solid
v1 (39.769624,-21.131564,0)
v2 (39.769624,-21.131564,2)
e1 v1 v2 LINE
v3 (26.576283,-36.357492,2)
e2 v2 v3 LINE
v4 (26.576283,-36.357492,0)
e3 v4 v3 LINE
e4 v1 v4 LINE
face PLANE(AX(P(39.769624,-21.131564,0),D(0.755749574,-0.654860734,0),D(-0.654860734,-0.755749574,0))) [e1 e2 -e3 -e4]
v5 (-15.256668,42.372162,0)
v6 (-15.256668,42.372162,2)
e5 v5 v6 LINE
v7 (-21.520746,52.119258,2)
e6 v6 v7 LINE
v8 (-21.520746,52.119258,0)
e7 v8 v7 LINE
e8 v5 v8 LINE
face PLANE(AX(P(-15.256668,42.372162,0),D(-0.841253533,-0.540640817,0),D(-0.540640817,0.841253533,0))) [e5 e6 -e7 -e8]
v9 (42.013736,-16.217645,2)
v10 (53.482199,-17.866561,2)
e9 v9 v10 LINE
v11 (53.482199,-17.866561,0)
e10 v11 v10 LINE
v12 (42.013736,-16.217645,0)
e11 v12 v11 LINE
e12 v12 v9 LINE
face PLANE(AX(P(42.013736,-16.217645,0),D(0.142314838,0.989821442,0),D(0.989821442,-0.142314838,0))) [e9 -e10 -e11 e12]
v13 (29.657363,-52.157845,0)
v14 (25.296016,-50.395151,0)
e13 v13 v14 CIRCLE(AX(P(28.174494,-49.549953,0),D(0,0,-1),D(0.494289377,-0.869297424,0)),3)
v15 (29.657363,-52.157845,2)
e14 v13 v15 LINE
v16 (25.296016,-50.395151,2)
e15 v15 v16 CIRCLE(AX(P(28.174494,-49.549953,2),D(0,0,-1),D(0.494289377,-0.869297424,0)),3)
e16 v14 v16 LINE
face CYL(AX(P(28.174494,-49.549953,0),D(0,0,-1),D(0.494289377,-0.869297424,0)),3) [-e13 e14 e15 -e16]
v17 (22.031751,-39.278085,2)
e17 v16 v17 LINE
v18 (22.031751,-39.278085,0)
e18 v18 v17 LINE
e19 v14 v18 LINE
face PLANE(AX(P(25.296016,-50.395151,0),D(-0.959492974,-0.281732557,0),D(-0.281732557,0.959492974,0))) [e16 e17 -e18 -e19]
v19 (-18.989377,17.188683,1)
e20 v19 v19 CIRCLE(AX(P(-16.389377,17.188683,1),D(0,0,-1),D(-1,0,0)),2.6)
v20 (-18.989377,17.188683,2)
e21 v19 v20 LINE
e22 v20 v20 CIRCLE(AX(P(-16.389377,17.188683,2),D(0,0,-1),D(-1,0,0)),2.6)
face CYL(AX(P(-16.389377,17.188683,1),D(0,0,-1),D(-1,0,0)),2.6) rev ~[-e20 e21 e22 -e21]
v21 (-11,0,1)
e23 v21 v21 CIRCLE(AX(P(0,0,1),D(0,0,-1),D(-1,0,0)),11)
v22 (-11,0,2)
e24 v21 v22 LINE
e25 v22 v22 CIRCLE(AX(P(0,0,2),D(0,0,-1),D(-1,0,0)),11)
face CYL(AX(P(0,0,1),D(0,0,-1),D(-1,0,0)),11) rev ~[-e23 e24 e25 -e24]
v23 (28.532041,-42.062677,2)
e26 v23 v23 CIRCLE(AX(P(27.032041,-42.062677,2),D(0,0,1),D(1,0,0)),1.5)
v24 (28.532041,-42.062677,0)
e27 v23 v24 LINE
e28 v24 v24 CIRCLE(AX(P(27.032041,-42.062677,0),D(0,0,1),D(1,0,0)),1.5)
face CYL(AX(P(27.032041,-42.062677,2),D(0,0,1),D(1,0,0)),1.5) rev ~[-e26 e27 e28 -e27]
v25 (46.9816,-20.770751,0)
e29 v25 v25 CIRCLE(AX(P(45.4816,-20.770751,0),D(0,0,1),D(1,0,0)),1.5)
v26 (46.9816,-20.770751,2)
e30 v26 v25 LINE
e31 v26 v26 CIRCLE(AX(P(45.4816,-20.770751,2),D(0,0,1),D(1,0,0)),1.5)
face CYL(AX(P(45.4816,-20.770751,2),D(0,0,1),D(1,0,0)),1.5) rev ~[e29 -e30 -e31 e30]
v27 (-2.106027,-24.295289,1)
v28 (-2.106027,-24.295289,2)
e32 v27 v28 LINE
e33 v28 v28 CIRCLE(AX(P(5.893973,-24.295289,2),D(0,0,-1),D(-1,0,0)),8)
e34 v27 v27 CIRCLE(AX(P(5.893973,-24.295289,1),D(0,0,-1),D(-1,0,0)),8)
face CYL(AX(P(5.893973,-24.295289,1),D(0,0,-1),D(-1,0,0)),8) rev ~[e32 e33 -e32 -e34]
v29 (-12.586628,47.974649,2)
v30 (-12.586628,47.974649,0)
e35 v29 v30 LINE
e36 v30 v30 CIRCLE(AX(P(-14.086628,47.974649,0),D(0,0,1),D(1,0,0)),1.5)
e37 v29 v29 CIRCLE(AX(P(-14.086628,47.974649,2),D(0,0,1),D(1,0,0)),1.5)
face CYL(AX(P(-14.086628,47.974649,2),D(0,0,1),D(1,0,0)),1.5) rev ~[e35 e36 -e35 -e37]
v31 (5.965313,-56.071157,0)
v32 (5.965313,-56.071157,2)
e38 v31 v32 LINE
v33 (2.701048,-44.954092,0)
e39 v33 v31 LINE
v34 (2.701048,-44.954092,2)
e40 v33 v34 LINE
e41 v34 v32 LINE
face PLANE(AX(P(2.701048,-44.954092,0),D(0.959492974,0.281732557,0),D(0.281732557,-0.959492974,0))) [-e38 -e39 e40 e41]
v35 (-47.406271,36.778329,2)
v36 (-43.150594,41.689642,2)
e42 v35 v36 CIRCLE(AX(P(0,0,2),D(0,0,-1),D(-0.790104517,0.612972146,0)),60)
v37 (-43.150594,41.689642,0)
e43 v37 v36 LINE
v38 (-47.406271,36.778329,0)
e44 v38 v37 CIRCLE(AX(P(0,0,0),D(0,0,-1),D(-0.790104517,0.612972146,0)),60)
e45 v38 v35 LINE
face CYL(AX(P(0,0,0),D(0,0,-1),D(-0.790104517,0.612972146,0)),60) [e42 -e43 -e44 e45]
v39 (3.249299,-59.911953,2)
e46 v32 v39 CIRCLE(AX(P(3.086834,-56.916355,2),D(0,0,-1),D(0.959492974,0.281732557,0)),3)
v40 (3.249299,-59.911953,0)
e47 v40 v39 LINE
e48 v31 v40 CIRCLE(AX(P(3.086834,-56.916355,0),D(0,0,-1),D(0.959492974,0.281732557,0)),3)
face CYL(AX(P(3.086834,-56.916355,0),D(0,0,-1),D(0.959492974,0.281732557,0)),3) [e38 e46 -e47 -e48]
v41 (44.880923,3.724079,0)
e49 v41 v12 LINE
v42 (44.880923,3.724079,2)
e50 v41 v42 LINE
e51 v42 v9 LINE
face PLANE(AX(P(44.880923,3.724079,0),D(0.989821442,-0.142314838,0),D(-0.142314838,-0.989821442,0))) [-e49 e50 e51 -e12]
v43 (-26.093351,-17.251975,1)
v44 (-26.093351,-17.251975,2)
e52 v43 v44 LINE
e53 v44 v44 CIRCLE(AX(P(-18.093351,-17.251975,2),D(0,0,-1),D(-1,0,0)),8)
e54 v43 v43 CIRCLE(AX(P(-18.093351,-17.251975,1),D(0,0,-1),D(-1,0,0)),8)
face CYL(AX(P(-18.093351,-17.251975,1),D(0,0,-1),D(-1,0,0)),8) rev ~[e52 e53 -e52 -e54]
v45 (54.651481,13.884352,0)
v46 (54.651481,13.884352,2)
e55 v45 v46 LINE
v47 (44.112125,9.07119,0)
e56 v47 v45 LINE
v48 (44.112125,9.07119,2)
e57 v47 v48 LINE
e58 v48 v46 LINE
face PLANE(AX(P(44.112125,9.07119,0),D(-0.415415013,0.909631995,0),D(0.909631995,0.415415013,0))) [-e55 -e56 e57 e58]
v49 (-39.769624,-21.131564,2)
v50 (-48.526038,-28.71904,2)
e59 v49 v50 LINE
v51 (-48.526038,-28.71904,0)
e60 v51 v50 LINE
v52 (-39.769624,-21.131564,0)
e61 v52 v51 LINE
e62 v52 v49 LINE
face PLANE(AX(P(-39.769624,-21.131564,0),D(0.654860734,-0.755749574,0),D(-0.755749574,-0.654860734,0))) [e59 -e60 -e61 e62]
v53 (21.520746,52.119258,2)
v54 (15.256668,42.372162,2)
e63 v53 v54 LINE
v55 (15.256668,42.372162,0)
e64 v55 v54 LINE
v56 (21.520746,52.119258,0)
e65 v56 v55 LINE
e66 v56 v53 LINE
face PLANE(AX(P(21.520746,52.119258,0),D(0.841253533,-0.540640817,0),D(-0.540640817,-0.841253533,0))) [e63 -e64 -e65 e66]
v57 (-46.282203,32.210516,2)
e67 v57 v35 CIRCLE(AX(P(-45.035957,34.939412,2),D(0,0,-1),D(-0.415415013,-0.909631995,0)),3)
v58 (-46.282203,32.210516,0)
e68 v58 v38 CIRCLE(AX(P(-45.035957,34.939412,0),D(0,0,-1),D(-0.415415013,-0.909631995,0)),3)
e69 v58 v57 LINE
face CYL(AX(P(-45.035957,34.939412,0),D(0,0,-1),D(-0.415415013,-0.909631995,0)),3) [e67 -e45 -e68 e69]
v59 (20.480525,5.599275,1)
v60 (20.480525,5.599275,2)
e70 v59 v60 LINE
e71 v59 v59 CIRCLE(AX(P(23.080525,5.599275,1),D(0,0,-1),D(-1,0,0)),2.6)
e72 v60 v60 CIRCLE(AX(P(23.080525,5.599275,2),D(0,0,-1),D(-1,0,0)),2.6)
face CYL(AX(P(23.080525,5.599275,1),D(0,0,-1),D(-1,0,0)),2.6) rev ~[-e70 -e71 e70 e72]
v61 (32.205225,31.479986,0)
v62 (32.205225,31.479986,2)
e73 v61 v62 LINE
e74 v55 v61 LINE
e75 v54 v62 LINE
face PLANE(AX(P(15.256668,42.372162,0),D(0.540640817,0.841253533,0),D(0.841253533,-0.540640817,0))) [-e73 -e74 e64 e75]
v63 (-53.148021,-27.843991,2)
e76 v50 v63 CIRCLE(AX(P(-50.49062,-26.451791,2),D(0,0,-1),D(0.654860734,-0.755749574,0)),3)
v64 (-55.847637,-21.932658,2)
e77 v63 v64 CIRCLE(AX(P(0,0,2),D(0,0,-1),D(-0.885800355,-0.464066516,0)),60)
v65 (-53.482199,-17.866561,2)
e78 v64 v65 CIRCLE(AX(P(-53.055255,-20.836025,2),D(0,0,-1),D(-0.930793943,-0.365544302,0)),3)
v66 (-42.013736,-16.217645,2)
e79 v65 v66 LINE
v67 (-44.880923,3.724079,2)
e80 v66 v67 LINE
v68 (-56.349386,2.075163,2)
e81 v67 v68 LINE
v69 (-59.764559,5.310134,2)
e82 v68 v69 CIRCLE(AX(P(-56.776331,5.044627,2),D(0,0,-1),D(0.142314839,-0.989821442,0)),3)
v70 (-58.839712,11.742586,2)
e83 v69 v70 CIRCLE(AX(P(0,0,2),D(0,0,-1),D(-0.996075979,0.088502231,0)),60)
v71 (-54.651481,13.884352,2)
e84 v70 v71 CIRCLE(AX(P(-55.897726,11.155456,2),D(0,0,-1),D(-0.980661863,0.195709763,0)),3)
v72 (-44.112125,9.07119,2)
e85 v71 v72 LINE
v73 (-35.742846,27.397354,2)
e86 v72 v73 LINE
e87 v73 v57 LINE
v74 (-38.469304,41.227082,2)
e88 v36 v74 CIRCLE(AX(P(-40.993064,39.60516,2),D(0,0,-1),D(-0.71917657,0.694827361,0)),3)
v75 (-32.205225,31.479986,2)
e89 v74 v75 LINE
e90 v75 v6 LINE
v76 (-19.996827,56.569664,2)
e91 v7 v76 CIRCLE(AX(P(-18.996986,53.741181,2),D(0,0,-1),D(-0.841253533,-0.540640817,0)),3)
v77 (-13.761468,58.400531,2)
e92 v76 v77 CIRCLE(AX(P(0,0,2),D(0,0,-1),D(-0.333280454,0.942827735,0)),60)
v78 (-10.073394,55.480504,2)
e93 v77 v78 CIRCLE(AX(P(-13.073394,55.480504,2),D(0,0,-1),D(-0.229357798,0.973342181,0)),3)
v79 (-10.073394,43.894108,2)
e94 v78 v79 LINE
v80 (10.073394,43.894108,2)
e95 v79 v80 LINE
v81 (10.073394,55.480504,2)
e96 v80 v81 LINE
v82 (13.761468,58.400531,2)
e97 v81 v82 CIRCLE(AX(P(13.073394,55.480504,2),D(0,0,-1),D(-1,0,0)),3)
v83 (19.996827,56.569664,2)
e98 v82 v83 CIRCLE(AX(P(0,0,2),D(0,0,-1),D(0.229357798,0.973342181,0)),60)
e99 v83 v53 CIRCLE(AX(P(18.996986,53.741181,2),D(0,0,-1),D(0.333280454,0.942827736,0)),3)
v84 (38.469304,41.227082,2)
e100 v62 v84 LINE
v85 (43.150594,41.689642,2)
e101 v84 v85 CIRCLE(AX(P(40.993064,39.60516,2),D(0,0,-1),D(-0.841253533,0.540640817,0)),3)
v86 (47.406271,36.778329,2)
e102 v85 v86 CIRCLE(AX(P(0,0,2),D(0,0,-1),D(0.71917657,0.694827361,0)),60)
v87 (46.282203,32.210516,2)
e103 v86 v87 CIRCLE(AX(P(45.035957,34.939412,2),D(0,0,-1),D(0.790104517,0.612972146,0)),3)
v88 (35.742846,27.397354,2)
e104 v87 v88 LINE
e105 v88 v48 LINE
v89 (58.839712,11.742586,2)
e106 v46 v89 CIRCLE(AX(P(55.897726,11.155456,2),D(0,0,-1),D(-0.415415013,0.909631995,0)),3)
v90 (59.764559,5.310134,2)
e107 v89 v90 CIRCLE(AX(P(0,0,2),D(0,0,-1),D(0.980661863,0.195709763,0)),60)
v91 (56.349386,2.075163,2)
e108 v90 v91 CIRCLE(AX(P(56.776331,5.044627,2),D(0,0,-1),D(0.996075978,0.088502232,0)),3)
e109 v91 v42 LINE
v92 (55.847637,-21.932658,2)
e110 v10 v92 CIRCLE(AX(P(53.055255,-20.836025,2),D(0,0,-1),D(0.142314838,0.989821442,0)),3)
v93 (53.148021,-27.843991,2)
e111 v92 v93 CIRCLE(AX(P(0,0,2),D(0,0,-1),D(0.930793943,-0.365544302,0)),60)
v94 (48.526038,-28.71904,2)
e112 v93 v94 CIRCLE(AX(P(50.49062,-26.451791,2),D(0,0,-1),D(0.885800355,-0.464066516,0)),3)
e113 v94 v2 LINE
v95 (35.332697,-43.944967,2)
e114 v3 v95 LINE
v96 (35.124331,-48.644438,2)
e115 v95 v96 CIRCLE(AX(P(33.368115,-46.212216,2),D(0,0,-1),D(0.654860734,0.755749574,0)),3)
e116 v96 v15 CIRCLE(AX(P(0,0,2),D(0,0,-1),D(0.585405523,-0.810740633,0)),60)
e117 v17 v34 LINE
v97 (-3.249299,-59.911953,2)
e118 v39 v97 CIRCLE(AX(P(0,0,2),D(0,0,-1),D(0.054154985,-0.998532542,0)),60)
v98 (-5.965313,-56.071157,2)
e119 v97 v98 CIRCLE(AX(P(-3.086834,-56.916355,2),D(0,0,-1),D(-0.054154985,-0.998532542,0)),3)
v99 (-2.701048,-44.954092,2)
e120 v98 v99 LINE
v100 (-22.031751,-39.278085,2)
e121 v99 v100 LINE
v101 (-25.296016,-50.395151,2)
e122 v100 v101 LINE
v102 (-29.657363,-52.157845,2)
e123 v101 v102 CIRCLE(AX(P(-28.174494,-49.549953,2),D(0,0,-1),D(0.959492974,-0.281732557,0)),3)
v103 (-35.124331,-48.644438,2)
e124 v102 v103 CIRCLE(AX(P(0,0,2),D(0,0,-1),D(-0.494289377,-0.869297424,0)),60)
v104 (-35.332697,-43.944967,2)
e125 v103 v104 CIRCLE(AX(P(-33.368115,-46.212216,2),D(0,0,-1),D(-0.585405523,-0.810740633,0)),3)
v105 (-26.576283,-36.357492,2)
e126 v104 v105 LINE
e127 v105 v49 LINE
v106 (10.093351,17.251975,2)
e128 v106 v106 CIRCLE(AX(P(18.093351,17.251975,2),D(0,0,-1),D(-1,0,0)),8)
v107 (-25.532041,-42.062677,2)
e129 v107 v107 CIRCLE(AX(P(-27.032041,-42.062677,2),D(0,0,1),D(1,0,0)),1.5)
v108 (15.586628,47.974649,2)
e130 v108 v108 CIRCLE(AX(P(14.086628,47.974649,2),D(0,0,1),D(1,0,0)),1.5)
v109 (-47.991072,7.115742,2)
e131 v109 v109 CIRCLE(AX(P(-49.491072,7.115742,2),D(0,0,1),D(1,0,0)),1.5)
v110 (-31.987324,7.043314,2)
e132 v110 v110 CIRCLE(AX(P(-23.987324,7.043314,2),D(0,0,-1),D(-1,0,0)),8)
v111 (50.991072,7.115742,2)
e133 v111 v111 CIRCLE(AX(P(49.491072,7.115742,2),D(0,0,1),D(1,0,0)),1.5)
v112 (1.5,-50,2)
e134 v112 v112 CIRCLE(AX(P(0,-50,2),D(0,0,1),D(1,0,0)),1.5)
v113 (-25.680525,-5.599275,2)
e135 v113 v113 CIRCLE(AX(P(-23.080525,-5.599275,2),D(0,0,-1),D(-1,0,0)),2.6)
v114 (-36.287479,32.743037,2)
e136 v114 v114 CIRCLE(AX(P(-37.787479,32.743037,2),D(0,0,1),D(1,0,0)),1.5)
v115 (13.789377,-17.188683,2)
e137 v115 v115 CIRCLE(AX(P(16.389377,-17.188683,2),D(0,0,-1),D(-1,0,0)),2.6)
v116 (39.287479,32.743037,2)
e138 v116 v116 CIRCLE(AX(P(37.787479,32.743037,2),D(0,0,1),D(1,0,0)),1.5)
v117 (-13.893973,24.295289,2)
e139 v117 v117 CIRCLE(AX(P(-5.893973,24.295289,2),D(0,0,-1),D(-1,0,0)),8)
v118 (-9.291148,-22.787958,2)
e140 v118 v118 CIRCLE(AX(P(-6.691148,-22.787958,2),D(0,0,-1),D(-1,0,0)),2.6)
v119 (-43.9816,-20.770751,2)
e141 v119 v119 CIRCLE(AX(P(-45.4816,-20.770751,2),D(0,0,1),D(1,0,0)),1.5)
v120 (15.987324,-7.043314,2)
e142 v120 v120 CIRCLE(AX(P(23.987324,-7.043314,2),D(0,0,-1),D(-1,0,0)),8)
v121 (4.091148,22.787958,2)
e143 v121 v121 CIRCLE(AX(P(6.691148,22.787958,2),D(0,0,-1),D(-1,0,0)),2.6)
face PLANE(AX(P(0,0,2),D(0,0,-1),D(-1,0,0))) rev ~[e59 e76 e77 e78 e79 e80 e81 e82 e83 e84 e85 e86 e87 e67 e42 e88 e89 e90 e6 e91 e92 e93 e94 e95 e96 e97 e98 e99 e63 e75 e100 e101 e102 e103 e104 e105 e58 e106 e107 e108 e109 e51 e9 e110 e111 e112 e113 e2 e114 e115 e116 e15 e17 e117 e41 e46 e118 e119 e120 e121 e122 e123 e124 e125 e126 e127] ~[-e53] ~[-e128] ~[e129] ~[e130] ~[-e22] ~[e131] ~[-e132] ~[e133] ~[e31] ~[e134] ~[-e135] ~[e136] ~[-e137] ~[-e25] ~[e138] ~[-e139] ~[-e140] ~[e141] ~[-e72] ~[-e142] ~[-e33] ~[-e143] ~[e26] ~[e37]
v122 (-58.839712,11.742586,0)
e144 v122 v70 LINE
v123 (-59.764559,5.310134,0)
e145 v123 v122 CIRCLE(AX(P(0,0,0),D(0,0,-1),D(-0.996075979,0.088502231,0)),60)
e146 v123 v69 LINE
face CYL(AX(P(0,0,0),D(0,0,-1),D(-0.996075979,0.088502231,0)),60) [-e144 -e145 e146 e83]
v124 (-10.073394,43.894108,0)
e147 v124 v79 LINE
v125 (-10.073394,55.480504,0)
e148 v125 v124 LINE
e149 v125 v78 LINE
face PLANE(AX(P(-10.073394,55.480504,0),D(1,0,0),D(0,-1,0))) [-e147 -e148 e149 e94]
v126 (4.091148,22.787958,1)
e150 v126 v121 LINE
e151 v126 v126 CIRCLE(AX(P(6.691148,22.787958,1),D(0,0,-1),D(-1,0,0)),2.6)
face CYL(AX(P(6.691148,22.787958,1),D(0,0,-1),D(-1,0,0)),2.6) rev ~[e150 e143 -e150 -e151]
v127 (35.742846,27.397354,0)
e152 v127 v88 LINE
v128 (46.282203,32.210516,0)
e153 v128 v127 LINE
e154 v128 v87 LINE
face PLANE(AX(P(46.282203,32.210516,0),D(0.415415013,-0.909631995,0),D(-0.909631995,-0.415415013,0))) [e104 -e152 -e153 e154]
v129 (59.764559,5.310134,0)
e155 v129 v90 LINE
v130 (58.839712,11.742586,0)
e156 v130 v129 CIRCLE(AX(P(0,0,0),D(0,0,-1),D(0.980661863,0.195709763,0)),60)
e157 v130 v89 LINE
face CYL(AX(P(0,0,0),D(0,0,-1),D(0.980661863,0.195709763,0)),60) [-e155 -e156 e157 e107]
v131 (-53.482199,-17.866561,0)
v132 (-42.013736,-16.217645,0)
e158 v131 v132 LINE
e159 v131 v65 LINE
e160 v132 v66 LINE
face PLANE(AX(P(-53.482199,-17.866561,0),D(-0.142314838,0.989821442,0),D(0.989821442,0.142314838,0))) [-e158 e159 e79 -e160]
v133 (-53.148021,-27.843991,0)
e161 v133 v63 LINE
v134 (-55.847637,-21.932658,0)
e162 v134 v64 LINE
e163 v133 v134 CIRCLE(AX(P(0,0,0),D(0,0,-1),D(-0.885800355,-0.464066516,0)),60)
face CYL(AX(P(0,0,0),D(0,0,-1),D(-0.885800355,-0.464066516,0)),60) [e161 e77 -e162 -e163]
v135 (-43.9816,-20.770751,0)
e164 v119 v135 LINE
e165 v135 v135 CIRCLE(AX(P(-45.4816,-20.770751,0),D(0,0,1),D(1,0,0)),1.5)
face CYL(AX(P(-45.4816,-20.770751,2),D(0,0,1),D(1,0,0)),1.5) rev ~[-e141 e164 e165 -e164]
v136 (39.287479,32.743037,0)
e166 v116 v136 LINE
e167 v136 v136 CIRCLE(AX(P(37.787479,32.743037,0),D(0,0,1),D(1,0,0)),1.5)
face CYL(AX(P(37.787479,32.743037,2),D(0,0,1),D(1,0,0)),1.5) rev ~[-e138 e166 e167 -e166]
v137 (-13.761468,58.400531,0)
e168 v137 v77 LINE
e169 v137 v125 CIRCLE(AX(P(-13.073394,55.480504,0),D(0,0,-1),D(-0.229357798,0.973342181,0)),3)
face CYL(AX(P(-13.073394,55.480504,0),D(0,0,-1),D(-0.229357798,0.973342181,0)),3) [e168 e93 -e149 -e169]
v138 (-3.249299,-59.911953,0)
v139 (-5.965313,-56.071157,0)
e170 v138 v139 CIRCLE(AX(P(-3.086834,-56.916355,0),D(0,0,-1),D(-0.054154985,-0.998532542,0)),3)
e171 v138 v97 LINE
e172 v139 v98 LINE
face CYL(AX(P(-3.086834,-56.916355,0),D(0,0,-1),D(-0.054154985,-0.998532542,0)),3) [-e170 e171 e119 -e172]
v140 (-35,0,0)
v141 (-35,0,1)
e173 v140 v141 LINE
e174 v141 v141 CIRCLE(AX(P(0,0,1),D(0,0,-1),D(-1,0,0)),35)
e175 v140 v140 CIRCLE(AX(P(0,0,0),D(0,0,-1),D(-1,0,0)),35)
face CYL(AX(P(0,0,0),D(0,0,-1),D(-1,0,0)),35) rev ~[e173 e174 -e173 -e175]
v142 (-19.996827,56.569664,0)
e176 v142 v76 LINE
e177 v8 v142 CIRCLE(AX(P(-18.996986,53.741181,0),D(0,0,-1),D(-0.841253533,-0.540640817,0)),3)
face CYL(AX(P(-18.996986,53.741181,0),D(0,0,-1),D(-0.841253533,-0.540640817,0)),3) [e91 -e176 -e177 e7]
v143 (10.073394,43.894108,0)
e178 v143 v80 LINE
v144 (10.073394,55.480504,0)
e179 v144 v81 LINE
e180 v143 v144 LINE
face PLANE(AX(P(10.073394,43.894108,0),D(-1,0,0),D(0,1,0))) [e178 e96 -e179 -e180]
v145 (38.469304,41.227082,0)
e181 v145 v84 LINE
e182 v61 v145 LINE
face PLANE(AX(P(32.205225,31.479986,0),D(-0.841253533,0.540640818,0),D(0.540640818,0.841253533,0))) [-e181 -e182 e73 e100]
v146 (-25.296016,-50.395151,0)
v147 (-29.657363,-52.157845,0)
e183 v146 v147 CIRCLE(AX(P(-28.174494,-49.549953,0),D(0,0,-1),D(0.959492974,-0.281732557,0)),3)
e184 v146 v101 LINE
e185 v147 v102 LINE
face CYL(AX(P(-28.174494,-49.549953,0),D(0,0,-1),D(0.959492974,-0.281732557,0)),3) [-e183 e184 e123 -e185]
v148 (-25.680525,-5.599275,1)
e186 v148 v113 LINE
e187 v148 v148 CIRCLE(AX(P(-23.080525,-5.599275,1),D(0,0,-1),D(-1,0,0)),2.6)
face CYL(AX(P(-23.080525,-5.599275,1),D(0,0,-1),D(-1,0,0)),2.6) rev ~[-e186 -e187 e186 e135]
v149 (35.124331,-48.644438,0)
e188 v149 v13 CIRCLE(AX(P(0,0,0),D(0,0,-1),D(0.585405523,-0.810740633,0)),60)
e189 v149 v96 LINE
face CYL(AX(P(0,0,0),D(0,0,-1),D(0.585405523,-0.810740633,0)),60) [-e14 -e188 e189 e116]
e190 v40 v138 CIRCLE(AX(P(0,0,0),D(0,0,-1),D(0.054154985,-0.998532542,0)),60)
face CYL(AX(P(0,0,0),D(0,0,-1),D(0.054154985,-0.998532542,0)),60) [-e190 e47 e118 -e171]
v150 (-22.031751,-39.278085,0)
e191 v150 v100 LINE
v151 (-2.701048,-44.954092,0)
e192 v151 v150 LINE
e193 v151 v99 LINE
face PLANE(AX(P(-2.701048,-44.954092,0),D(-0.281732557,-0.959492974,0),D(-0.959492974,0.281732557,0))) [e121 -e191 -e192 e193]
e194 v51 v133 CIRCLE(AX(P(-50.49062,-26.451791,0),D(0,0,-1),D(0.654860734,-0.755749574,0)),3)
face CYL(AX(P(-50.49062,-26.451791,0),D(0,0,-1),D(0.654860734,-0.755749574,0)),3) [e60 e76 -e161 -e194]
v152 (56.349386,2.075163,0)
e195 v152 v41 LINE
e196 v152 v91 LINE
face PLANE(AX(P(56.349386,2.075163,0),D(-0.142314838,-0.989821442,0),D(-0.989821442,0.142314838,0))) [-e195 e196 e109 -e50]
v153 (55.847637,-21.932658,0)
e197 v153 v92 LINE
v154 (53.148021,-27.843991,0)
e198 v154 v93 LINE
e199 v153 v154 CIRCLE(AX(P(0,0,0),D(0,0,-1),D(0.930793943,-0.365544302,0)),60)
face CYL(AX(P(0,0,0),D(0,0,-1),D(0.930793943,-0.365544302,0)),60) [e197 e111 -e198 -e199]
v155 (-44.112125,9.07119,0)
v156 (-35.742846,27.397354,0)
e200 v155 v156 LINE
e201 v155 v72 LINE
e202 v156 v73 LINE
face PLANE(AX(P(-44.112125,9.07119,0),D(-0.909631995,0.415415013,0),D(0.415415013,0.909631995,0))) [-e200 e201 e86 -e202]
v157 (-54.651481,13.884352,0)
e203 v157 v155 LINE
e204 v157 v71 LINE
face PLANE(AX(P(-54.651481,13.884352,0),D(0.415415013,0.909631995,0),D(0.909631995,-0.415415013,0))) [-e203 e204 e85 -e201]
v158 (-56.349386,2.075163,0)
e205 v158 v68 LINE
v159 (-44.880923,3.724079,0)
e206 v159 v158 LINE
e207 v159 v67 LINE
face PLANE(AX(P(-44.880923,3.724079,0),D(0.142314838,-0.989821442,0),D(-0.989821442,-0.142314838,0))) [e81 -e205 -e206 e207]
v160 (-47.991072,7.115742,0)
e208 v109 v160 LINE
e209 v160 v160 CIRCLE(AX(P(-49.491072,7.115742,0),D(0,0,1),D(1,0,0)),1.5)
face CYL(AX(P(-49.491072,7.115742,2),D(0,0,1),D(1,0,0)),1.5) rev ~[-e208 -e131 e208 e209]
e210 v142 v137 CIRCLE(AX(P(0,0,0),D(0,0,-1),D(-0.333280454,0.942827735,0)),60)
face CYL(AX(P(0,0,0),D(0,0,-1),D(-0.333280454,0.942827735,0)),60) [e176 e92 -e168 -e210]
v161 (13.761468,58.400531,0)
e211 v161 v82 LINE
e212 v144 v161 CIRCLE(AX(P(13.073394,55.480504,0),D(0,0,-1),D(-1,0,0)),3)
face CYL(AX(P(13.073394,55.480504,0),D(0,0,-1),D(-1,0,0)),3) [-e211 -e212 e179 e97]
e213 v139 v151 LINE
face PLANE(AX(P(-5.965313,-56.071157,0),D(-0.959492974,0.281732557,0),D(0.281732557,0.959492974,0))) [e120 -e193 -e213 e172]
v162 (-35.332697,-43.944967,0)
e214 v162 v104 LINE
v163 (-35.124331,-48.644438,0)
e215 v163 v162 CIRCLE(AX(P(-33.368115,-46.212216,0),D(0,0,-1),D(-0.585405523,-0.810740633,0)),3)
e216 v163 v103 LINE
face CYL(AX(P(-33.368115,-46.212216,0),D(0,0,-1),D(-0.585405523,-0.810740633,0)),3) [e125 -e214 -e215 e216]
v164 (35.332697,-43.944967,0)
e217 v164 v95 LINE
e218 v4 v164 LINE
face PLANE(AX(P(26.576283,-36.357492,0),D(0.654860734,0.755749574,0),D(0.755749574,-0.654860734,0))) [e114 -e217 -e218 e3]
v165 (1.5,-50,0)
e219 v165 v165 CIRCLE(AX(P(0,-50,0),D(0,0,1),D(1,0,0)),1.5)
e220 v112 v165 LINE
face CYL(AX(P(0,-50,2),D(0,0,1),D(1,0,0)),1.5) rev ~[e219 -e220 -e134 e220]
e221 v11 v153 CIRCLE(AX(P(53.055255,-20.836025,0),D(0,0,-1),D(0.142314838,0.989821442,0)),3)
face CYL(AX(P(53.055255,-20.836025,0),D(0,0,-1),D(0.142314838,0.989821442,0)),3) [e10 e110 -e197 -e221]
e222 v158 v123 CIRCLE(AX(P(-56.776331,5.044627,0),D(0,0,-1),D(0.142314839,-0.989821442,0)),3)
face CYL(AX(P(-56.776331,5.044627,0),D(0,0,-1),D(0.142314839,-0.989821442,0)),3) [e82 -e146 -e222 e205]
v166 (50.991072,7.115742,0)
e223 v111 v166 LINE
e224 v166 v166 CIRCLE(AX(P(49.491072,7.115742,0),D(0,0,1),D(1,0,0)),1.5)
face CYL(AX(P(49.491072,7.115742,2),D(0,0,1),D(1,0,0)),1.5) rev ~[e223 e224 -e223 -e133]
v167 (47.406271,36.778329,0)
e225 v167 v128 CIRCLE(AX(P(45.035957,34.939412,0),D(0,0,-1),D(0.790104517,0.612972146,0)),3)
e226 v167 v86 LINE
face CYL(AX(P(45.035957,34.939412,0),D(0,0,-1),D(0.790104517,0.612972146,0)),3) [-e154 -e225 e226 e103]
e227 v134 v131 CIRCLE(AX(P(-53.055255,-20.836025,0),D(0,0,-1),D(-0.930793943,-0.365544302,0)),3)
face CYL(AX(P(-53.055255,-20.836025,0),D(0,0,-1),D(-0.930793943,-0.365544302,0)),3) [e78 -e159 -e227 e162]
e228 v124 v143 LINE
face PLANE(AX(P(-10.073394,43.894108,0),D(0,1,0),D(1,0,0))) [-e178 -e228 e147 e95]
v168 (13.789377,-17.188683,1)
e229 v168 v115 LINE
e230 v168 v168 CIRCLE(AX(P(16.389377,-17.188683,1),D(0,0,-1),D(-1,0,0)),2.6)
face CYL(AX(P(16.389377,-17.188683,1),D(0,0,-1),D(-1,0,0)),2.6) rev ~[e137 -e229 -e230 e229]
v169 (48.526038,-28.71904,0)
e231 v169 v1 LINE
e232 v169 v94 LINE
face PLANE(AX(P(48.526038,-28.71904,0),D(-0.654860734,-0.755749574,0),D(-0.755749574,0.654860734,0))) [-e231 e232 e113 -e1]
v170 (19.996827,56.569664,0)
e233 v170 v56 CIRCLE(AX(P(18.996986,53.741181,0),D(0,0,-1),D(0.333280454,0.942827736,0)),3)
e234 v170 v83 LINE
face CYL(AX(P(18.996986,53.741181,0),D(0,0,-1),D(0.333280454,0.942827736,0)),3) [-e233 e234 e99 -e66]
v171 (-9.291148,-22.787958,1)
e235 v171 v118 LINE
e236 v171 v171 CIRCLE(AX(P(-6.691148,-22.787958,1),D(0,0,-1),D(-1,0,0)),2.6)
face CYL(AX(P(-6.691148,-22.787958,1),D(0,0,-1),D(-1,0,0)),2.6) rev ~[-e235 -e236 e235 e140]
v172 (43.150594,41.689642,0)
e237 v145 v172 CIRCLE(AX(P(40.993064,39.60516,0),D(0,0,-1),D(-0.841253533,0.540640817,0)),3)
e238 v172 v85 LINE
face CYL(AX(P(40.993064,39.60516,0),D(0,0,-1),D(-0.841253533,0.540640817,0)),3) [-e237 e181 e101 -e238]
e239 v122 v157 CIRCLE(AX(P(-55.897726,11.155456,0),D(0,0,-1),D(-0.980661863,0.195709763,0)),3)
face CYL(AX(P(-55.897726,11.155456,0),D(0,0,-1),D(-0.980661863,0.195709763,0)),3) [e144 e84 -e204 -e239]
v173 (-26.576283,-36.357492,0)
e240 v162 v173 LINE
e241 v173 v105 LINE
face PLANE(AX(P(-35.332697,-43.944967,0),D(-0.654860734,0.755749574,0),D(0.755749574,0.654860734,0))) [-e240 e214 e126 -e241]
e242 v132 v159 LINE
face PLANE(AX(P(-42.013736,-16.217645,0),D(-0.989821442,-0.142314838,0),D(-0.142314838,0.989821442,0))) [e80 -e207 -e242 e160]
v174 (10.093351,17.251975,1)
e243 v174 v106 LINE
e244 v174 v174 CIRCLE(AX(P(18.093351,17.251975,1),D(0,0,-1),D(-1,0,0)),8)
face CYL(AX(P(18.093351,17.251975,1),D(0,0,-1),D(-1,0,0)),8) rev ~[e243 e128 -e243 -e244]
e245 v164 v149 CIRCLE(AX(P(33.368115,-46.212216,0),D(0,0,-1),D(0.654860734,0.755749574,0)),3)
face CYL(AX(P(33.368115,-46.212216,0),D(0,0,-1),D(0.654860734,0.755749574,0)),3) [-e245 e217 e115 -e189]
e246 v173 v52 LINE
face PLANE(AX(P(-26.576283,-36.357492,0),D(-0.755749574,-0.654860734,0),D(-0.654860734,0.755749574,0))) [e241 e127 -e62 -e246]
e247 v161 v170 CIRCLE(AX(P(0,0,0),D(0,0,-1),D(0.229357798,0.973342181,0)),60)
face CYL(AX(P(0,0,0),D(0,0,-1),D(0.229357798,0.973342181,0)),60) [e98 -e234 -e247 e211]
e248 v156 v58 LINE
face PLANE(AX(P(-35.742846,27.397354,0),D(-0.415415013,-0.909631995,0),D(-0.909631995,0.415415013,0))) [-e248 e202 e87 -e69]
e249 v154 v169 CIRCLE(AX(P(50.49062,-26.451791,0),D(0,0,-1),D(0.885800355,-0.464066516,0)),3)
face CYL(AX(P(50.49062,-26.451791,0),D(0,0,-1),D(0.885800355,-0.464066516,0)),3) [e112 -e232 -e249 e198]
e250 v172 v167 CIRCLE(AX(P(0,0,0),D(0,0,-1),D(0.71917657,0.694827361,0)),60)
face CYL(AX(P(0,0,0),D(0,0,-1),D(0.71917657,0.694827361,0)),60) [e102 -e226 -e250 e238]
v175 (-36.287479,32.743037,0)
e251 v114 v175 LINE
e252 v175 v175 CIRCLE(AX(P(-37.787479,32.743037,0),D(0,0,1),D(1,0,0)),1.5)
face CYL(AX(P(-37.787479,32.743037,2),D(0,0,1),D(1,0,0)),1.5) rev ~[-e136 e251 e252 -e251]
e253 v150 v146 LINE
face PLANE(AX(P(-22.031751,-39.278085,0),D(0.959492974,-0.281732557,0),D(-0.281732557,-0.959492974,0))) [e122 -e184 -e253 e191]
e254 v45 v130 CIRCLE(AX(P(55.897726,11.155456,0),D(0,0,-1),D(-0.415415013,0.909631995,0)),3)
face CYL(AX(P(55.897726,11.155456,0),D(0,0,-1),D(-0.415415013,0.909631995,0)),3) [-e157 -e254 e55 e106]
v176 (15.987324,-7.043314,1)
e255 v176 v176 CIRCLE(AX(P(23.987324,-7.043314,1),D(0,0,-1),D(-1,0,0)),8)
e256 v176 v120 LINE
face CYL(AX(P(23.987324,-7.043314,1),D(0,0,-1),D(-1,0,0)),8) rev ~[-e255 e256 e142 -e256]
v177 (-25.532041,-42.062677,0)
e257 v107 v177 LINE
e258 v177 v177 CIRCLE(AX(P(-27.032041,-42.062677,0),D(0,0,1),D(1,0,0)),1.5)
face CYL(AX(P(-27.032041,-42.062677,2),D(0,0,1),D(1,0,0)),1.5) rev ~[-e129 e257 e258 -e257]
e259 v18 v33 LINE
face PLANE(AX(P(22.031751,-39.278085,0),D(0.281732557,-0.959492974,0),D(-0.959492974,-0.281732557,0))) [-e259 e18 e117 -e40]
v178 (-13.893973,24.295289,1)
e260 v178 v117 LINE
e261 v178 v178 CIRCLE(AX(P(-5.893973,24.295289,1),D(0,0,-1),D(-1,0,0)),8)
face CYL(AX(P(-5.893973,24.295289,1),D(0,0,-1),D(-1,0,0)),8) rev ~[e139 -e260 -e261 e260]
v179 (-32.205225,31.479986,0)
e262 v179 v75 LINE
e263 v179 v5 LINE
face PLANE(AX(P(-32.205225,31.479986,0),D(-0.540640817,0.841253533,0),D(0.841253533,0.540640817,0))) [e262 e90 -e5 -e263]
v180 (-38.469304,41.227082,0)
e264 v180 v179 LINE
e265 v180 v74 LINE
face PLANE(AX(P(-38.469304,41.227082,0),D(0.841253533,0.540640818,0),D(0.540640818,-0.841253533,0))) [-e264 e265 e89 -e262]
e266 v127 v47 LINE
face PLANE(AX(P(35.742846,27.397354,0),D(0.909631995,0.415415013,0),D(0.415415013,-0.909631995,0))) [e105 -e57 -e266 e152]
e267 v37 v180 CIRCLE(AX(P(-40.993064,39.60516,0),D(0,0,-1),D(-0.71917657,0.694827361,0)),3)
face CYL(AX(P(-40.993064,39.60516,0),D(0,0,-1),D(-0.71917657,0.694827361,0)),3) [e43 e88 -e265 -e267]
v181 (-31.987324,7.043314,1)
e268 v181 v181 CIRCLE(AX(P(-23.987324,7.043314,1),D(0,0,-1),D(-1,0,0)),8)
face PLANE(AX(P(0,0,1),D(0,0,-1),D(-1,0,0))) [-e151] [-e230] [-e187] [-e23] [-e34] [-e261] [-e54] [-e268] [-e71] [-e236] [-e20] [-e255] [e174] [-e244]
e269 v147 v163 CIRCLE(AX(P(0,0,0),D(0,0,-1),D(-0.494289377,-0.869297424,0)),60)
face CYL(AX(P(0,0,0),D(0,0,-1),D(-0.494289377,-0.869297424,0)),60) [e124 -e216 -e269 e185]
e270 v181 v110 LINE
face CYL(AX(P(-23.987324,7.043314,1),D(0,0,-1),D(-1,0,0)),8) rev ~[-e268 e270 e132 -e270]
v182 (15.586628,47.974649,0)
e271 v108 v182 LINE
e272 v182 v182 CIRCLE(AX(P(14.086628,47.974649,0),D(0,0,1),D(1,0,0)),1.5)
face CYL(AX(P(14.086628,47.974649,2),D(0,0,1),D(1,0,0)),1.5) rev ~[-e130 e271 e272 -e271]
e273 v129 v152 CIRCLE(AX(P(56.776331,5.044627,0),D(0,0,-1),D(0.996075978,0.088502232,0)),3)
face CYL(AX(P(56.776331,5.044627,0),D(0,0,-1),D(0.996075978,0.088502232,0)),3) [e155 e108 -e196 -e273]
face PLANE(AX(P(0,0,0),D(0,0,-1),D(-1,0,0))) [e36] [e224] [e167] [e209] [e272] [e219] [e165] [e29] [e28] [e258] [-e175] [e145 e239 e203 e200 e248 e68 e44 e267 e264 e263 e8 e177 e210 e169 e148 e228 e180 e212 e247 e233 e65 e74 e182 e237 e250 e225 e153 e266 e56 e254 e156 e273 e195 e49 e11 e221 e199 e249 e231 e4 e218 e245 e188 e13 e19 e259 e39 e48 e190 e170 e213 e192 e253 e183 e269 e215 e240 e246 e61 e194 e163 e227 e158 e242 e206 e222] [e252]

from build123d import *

# Parameters (mm, degrees)
BOSS_EXTRUDE1_DEPTH = 2
SKETCH4_R           = 1.5
CUT_EXTRUDE3_DEPTH  = 2
SKETCH6_R           = 35
CUT_EXTRUDE4_DEPTH  = 1
SKETCH7_R           = 11
SKETCH7_R_2         = 2.6
SKETCH7_R_3         = 8
CUT_EXTRUDE5_DEPTH  = 10


with BuildPart() as part:
    # Sketch1 → Boss-Extrude1 (new body)
    with BuildSketch(Plane.XY):
        with BuildLine():
            Line((21.520746486, 52.119258472), (15.256667967, 42.372162038))
            Line((15.256667967, 42.372162038), (32.20522538, 31.479985569))
            Line((32.20522538, 31.479985569), (38.4693039, 41.227082003))
            ThreePointArc((38.4693039, 41.227082003), (40.698070229, 42.590620718), (43.150594208, 41.689641633))
            ThreePointArc((43.150594208, 41.689641633), (45.344974461, 39.291644037), (47.406271028, 36.778328771))
            ThreePointArc((47.406271028, 36.778328771), (47.949048893, 34.222545257), (46.282202516, 32.210516346))
            Line((46.282202516, 32.210516346), (35.742846148, 27.397353567))
            Line((35.742846148, 27.397353567), (44.112124759, 9.071189697))
            Line((44.112124759, 9.071189697), (54.651481127, 13.884352476))
            ThreePointArc((54.651481127, 13.884352476), (57.263623361, 13.826472187), (58.839711753, 11.742585779))
            ThreePointArc((58.839711753, 11.742585779), (59.389286513, 8.538890296), (59.764558712, 5.310133889))
            ThreePointArc((59.764558712, 5.310133889), (58.83941162, 2.86662411), (56.349386262, 2.075162869))
            Line((56.349386262, 2.075162869), (44.880923224, 3.724078919))
            Line((44.880923224, 3.724078919), (42.013736207, -16.217644809))
            Line((42.013736207, -16.217644809), (53.482199245, -17.86656086))
            ThreePointArc((53.482199245, -17.86656086), (55.648380681, -19.32748357), (55.847636558, -21.93265809))
            ThreePointArc((55.847636558, -21.93265809), (54.577919721, -24.92490078), (53.148021281, -27.843990983))
            ThreePointArc((53.148021281, -27.843990983), (51.048676897, -29.399429937), (48.526038015, -28.719040157))
            Line((48.526038015, -28.719040157), (39.76962429, -21.131564473))
            Line((39.76962429, -21.131564473), (26.576283265, -36.357491677))
            Line((26.576283265, -36.357491677), (35.33269699, -43.944967362))
            ThreePointArc((35.33269699, -43.944967362), (36.365170327, -46.345099856), (35.124331356, -48.644437984))
            ThreePointArc((35.124331356, -48.644437984), (32.438449047, -50.47521197), (29.657362619, -52.157845455))
            ThreePointArc((29.657362619, -52.157845455), (27.050347952, -52.331372705), (25.296015568, -50.395150852))
            Line((25.296015568, -50.395150852), (22.031750643, -39.278085453))
            Line((22.031750643, -39.278085453), (2.701048165, -44.954091828))
            Line((2.701048165, -44.954091828), (5.96531309, -56.071157227))
            ThreePointArc((5.96531309, -56.071157227), (5.536275339, -58.648474396), (3.249299125, -59.911952524))
            ThreePointArc((3.249299125, -59.911952524), (0, -60), (-3.249299125, -59.911952524))
            ThreePointArc((-3.249299125, -59.911952524), (-5.536275339, -58.648474396), (-5.96531309, -56.071157227))
            Line((-5.96531309, -56.071157227), (-2.701048165, -44.954091828))
            Line((-2.701048165, -44.954091828), (-22.031750643, -39.278085453))
            Line((-22.031750643, -39.278085453), (-25.296015568, -50.395150852))
            ThreePointArc((-25.296015568, -50.395150852), (-27.050347952, -52.331372705), (-29.657362619, -52.157845455))
            ThreePointArc((-29.657362619, -52.157845455), (-32.438449047, -50.47521197), (-35.124331356, -48.644437984))
            ThreePointArc((-35.124331356, -48.644437984), (-36.365170327, -46.345099856), (-35.33269699, -43.944967362))
            Line((-35.33269699, -43.944967362), (-26.576283265, -36.357491677))
            Line((-26.576283265, -36.357491677), (-39.76962429, -21.131564473))
            Line((-39.76962429, -21.131564473), (-48.526038015, -28.719040157))
            ThreePointArc((-48.526038015, -28.719040157), (-51.048676897, -29.399429937), (-53.148021281, -27.843990983))
            ThreePointArc((-53.148021281, -27.843990983), (-54.577919721, -24.92490078), (-55.847636558, -21.93265809))
            ThreePointArc((-55.847636558, -21.93265809), (-55.648380681, -19.32748357), (-53.482199245, -17.86656086))
            Line((-53.482199245, -17.86656086), (-42.013736207, -16.217644809))
            Line((-42.013736207, -16.217644809), (-44.880923224, 3.724078919))
            Line((-44.880923224, 3.724078919), (-56.349386262, 2.075162869))
            ThreePointArc((-56.349386262, 2.075162869), (-58.83941162, 2.86662411), (-59.764558712, 5.310133889))
            ThreePointArc((-59.764558712, 5.310133889), (-59.389286513, 8.538890296), (-58.839711753, 11.742585779))
            ThreePointArc((-58.839711753, 11.742585779), (-57.263623361, 13.826472187), (-54.651481127, 13.884352476))
            Line((-54.651481127, 13.884352476), (-44.112124759, 9.071189697))
            Line((-44.112124759, 9.071189697), (-35.742846148, 27.397353567))
            Line((-35.742846148, 27.397353567), (-46.282202516, 32.210516346))
            ThreePointArc((-46.282202516, 32.210516346), (-47.949048893, 34.222545257), (-47.406271028, 36.778328771))
            ThreePointArc((-47.406271028, 36.778328771), (-45.344974461, 39.291644037), (-43.150594208, 41.689641633))
            ThreePointArc((-43.150594208, 41.689641633), (-40.698070229, 42.590620718), (-38.4693039, 41.227082003))
            Line((-38.4693039, 41.227082003), (-32.20522538, 31.479985569))
            Line((-32.20522538, 31.479985569), (-15.256667967, 42.372162038))
            Line((-15.256667967, 42.372162038), (-21.520746486, 52.119258472))
            ThreePointArc((-21.520746486, 52.119258472), (-21.835201934, 54.713050089), (-19.99682725, 56.569664131))
            ThreePointArc((-19.99682725, 56.569664131), (-16.90395341, 57.569578417), (-13.76146789, 58.400530832))
            ThreePointArc((-13.76146789, 58.400530832), (-11.211167359, 57.832548102), (-10.073394495, 55.480504291))
            Line((-10.073394495, 55.480504291), (-10.073394495, 43.894108449))
            Line((-10.073394495, 43.894108449), (10.073394495, 43.894108449))
            Line((10.073394495, 43.894108449), (10.073394495, 55.480504291))
            ThreePointArc((10.073394495, 55.480504291), (11.211167359, 57.832548102), (13.76146789, 58.400530832))
            ThreePointArc((13.76146789, 58.400530832), (16.90395341, 57.569578417), (19.99682725, 56.569664131))
            ThreePointArc((19.99682725, 56.569664131), (21.835201934, 54.713050089), (21.520746486, 52.119258472))
        make_face()
    extrude(amount=BOSS_EXTRUDE1_DEPTH)

    # Sketch4 → Cut-Extrude3 (cut)
    with BuildSketch(Plane.XY.offset(2)):
        with Locations((-14.086627842, 47.974648681)):
            Circle(SKETCH4_R)
        with Locations((14.086627842, 47.974648681)):
            Circle(SKETCH4_R)
        with Locations((37.787478718, 32.743036697)):
            Circle(SKETCH4_R)
        with Locations((49.491072094, 7.115741914)):
            Circle(SKETCH4_R)
        with Locations((45.481599768, -20.77075065)):
            Circle(SKETCH4_R)
        with Locations((27.032040873, -42.062676642)):
            Circle(SKETCH4_R)
        with Locations((0, -50)):
            Circle(SKETCH4_R)
        with Locations((-27.032040873, -42.062676642)):
            Circle(SKETCH4_R)
        with Locations((-45.481599768, -20.77075065)):
            Circle(SKETCH4_R)
        with Locations((-49.491072094, 7.115741914)):
            Circle(SKETCH4_R)
        with Locations((-37.787478718, 32.743036697)):
            Circle(SKETCH4_R)
    extrude(amount=-CUT_EXTRUDE3_DEPTH, mode=Mode.SUBTRACT)

    # Sketch6 → Cut-Extrude4 (cut)
    with BuildSketch(Plane(origin=(0, 0, 0), x_dir=(-1, 0, 0), z_dir=(0, 0, -1))):
        Circle(SKETCH6_R)
    extrude(amount=-CUT_EXTRUDE4_DEPTH, mode=Mode.SUBTRACT)

    # Sketch7 → Cut-Extrude5 (cut)
    with BuildSketch(Plane(origin=(0, 0, 1), x_dir=(-1, 0, 0), z_dir=(0, 0, -1))):
        Circle(SKETCH7_R)
        with Locations((-6.691148225, 22.787958123)):
            Circle(SKETCH7_R_2)
        with Locations((-18.093350953, 17.251975287)):
            Circle(SKETCH7_R_3)
        with Locations((5.893973388, 24.295289208)):
            Circle(SKETCH7_R_3)
        with Locations((16.389376523, 17.188683405)):
            Circle(SKETCH7_R_2)
        with Locations((23.98732434, 7.043313921)):
            Circle(SKETCH7_R_3)
        with Locations((23.080524748, -5.599274718)):
            Circle(SKETCH7_R_2)
        with Locations((18.093350953, -17.251975287)):
            Circle(SKETCH7_R_3)
        with Locations((6.691148225, -22.787958123)):
            Circle(SKETCH7_R_2)
        with Locations((-5.893973388, -24.295289208)):
            Circle(SKETCH7_R_3)
        with Locations((-16.389376523, -17.188683405)):
            Circle(SKETCH7_R_2)
        with Locations((-23.98732434, -7.043313921)):
            Circle(SKETCH7_R_3)
        with Locations((-23.080524748, 5.599274718)):
            Circle(SKETCH7_R_2)
    extrude(amount=-CUT_EXTRUDE5_DEPTH, mode=Mode.SUBTRACT)


solid = part.part
